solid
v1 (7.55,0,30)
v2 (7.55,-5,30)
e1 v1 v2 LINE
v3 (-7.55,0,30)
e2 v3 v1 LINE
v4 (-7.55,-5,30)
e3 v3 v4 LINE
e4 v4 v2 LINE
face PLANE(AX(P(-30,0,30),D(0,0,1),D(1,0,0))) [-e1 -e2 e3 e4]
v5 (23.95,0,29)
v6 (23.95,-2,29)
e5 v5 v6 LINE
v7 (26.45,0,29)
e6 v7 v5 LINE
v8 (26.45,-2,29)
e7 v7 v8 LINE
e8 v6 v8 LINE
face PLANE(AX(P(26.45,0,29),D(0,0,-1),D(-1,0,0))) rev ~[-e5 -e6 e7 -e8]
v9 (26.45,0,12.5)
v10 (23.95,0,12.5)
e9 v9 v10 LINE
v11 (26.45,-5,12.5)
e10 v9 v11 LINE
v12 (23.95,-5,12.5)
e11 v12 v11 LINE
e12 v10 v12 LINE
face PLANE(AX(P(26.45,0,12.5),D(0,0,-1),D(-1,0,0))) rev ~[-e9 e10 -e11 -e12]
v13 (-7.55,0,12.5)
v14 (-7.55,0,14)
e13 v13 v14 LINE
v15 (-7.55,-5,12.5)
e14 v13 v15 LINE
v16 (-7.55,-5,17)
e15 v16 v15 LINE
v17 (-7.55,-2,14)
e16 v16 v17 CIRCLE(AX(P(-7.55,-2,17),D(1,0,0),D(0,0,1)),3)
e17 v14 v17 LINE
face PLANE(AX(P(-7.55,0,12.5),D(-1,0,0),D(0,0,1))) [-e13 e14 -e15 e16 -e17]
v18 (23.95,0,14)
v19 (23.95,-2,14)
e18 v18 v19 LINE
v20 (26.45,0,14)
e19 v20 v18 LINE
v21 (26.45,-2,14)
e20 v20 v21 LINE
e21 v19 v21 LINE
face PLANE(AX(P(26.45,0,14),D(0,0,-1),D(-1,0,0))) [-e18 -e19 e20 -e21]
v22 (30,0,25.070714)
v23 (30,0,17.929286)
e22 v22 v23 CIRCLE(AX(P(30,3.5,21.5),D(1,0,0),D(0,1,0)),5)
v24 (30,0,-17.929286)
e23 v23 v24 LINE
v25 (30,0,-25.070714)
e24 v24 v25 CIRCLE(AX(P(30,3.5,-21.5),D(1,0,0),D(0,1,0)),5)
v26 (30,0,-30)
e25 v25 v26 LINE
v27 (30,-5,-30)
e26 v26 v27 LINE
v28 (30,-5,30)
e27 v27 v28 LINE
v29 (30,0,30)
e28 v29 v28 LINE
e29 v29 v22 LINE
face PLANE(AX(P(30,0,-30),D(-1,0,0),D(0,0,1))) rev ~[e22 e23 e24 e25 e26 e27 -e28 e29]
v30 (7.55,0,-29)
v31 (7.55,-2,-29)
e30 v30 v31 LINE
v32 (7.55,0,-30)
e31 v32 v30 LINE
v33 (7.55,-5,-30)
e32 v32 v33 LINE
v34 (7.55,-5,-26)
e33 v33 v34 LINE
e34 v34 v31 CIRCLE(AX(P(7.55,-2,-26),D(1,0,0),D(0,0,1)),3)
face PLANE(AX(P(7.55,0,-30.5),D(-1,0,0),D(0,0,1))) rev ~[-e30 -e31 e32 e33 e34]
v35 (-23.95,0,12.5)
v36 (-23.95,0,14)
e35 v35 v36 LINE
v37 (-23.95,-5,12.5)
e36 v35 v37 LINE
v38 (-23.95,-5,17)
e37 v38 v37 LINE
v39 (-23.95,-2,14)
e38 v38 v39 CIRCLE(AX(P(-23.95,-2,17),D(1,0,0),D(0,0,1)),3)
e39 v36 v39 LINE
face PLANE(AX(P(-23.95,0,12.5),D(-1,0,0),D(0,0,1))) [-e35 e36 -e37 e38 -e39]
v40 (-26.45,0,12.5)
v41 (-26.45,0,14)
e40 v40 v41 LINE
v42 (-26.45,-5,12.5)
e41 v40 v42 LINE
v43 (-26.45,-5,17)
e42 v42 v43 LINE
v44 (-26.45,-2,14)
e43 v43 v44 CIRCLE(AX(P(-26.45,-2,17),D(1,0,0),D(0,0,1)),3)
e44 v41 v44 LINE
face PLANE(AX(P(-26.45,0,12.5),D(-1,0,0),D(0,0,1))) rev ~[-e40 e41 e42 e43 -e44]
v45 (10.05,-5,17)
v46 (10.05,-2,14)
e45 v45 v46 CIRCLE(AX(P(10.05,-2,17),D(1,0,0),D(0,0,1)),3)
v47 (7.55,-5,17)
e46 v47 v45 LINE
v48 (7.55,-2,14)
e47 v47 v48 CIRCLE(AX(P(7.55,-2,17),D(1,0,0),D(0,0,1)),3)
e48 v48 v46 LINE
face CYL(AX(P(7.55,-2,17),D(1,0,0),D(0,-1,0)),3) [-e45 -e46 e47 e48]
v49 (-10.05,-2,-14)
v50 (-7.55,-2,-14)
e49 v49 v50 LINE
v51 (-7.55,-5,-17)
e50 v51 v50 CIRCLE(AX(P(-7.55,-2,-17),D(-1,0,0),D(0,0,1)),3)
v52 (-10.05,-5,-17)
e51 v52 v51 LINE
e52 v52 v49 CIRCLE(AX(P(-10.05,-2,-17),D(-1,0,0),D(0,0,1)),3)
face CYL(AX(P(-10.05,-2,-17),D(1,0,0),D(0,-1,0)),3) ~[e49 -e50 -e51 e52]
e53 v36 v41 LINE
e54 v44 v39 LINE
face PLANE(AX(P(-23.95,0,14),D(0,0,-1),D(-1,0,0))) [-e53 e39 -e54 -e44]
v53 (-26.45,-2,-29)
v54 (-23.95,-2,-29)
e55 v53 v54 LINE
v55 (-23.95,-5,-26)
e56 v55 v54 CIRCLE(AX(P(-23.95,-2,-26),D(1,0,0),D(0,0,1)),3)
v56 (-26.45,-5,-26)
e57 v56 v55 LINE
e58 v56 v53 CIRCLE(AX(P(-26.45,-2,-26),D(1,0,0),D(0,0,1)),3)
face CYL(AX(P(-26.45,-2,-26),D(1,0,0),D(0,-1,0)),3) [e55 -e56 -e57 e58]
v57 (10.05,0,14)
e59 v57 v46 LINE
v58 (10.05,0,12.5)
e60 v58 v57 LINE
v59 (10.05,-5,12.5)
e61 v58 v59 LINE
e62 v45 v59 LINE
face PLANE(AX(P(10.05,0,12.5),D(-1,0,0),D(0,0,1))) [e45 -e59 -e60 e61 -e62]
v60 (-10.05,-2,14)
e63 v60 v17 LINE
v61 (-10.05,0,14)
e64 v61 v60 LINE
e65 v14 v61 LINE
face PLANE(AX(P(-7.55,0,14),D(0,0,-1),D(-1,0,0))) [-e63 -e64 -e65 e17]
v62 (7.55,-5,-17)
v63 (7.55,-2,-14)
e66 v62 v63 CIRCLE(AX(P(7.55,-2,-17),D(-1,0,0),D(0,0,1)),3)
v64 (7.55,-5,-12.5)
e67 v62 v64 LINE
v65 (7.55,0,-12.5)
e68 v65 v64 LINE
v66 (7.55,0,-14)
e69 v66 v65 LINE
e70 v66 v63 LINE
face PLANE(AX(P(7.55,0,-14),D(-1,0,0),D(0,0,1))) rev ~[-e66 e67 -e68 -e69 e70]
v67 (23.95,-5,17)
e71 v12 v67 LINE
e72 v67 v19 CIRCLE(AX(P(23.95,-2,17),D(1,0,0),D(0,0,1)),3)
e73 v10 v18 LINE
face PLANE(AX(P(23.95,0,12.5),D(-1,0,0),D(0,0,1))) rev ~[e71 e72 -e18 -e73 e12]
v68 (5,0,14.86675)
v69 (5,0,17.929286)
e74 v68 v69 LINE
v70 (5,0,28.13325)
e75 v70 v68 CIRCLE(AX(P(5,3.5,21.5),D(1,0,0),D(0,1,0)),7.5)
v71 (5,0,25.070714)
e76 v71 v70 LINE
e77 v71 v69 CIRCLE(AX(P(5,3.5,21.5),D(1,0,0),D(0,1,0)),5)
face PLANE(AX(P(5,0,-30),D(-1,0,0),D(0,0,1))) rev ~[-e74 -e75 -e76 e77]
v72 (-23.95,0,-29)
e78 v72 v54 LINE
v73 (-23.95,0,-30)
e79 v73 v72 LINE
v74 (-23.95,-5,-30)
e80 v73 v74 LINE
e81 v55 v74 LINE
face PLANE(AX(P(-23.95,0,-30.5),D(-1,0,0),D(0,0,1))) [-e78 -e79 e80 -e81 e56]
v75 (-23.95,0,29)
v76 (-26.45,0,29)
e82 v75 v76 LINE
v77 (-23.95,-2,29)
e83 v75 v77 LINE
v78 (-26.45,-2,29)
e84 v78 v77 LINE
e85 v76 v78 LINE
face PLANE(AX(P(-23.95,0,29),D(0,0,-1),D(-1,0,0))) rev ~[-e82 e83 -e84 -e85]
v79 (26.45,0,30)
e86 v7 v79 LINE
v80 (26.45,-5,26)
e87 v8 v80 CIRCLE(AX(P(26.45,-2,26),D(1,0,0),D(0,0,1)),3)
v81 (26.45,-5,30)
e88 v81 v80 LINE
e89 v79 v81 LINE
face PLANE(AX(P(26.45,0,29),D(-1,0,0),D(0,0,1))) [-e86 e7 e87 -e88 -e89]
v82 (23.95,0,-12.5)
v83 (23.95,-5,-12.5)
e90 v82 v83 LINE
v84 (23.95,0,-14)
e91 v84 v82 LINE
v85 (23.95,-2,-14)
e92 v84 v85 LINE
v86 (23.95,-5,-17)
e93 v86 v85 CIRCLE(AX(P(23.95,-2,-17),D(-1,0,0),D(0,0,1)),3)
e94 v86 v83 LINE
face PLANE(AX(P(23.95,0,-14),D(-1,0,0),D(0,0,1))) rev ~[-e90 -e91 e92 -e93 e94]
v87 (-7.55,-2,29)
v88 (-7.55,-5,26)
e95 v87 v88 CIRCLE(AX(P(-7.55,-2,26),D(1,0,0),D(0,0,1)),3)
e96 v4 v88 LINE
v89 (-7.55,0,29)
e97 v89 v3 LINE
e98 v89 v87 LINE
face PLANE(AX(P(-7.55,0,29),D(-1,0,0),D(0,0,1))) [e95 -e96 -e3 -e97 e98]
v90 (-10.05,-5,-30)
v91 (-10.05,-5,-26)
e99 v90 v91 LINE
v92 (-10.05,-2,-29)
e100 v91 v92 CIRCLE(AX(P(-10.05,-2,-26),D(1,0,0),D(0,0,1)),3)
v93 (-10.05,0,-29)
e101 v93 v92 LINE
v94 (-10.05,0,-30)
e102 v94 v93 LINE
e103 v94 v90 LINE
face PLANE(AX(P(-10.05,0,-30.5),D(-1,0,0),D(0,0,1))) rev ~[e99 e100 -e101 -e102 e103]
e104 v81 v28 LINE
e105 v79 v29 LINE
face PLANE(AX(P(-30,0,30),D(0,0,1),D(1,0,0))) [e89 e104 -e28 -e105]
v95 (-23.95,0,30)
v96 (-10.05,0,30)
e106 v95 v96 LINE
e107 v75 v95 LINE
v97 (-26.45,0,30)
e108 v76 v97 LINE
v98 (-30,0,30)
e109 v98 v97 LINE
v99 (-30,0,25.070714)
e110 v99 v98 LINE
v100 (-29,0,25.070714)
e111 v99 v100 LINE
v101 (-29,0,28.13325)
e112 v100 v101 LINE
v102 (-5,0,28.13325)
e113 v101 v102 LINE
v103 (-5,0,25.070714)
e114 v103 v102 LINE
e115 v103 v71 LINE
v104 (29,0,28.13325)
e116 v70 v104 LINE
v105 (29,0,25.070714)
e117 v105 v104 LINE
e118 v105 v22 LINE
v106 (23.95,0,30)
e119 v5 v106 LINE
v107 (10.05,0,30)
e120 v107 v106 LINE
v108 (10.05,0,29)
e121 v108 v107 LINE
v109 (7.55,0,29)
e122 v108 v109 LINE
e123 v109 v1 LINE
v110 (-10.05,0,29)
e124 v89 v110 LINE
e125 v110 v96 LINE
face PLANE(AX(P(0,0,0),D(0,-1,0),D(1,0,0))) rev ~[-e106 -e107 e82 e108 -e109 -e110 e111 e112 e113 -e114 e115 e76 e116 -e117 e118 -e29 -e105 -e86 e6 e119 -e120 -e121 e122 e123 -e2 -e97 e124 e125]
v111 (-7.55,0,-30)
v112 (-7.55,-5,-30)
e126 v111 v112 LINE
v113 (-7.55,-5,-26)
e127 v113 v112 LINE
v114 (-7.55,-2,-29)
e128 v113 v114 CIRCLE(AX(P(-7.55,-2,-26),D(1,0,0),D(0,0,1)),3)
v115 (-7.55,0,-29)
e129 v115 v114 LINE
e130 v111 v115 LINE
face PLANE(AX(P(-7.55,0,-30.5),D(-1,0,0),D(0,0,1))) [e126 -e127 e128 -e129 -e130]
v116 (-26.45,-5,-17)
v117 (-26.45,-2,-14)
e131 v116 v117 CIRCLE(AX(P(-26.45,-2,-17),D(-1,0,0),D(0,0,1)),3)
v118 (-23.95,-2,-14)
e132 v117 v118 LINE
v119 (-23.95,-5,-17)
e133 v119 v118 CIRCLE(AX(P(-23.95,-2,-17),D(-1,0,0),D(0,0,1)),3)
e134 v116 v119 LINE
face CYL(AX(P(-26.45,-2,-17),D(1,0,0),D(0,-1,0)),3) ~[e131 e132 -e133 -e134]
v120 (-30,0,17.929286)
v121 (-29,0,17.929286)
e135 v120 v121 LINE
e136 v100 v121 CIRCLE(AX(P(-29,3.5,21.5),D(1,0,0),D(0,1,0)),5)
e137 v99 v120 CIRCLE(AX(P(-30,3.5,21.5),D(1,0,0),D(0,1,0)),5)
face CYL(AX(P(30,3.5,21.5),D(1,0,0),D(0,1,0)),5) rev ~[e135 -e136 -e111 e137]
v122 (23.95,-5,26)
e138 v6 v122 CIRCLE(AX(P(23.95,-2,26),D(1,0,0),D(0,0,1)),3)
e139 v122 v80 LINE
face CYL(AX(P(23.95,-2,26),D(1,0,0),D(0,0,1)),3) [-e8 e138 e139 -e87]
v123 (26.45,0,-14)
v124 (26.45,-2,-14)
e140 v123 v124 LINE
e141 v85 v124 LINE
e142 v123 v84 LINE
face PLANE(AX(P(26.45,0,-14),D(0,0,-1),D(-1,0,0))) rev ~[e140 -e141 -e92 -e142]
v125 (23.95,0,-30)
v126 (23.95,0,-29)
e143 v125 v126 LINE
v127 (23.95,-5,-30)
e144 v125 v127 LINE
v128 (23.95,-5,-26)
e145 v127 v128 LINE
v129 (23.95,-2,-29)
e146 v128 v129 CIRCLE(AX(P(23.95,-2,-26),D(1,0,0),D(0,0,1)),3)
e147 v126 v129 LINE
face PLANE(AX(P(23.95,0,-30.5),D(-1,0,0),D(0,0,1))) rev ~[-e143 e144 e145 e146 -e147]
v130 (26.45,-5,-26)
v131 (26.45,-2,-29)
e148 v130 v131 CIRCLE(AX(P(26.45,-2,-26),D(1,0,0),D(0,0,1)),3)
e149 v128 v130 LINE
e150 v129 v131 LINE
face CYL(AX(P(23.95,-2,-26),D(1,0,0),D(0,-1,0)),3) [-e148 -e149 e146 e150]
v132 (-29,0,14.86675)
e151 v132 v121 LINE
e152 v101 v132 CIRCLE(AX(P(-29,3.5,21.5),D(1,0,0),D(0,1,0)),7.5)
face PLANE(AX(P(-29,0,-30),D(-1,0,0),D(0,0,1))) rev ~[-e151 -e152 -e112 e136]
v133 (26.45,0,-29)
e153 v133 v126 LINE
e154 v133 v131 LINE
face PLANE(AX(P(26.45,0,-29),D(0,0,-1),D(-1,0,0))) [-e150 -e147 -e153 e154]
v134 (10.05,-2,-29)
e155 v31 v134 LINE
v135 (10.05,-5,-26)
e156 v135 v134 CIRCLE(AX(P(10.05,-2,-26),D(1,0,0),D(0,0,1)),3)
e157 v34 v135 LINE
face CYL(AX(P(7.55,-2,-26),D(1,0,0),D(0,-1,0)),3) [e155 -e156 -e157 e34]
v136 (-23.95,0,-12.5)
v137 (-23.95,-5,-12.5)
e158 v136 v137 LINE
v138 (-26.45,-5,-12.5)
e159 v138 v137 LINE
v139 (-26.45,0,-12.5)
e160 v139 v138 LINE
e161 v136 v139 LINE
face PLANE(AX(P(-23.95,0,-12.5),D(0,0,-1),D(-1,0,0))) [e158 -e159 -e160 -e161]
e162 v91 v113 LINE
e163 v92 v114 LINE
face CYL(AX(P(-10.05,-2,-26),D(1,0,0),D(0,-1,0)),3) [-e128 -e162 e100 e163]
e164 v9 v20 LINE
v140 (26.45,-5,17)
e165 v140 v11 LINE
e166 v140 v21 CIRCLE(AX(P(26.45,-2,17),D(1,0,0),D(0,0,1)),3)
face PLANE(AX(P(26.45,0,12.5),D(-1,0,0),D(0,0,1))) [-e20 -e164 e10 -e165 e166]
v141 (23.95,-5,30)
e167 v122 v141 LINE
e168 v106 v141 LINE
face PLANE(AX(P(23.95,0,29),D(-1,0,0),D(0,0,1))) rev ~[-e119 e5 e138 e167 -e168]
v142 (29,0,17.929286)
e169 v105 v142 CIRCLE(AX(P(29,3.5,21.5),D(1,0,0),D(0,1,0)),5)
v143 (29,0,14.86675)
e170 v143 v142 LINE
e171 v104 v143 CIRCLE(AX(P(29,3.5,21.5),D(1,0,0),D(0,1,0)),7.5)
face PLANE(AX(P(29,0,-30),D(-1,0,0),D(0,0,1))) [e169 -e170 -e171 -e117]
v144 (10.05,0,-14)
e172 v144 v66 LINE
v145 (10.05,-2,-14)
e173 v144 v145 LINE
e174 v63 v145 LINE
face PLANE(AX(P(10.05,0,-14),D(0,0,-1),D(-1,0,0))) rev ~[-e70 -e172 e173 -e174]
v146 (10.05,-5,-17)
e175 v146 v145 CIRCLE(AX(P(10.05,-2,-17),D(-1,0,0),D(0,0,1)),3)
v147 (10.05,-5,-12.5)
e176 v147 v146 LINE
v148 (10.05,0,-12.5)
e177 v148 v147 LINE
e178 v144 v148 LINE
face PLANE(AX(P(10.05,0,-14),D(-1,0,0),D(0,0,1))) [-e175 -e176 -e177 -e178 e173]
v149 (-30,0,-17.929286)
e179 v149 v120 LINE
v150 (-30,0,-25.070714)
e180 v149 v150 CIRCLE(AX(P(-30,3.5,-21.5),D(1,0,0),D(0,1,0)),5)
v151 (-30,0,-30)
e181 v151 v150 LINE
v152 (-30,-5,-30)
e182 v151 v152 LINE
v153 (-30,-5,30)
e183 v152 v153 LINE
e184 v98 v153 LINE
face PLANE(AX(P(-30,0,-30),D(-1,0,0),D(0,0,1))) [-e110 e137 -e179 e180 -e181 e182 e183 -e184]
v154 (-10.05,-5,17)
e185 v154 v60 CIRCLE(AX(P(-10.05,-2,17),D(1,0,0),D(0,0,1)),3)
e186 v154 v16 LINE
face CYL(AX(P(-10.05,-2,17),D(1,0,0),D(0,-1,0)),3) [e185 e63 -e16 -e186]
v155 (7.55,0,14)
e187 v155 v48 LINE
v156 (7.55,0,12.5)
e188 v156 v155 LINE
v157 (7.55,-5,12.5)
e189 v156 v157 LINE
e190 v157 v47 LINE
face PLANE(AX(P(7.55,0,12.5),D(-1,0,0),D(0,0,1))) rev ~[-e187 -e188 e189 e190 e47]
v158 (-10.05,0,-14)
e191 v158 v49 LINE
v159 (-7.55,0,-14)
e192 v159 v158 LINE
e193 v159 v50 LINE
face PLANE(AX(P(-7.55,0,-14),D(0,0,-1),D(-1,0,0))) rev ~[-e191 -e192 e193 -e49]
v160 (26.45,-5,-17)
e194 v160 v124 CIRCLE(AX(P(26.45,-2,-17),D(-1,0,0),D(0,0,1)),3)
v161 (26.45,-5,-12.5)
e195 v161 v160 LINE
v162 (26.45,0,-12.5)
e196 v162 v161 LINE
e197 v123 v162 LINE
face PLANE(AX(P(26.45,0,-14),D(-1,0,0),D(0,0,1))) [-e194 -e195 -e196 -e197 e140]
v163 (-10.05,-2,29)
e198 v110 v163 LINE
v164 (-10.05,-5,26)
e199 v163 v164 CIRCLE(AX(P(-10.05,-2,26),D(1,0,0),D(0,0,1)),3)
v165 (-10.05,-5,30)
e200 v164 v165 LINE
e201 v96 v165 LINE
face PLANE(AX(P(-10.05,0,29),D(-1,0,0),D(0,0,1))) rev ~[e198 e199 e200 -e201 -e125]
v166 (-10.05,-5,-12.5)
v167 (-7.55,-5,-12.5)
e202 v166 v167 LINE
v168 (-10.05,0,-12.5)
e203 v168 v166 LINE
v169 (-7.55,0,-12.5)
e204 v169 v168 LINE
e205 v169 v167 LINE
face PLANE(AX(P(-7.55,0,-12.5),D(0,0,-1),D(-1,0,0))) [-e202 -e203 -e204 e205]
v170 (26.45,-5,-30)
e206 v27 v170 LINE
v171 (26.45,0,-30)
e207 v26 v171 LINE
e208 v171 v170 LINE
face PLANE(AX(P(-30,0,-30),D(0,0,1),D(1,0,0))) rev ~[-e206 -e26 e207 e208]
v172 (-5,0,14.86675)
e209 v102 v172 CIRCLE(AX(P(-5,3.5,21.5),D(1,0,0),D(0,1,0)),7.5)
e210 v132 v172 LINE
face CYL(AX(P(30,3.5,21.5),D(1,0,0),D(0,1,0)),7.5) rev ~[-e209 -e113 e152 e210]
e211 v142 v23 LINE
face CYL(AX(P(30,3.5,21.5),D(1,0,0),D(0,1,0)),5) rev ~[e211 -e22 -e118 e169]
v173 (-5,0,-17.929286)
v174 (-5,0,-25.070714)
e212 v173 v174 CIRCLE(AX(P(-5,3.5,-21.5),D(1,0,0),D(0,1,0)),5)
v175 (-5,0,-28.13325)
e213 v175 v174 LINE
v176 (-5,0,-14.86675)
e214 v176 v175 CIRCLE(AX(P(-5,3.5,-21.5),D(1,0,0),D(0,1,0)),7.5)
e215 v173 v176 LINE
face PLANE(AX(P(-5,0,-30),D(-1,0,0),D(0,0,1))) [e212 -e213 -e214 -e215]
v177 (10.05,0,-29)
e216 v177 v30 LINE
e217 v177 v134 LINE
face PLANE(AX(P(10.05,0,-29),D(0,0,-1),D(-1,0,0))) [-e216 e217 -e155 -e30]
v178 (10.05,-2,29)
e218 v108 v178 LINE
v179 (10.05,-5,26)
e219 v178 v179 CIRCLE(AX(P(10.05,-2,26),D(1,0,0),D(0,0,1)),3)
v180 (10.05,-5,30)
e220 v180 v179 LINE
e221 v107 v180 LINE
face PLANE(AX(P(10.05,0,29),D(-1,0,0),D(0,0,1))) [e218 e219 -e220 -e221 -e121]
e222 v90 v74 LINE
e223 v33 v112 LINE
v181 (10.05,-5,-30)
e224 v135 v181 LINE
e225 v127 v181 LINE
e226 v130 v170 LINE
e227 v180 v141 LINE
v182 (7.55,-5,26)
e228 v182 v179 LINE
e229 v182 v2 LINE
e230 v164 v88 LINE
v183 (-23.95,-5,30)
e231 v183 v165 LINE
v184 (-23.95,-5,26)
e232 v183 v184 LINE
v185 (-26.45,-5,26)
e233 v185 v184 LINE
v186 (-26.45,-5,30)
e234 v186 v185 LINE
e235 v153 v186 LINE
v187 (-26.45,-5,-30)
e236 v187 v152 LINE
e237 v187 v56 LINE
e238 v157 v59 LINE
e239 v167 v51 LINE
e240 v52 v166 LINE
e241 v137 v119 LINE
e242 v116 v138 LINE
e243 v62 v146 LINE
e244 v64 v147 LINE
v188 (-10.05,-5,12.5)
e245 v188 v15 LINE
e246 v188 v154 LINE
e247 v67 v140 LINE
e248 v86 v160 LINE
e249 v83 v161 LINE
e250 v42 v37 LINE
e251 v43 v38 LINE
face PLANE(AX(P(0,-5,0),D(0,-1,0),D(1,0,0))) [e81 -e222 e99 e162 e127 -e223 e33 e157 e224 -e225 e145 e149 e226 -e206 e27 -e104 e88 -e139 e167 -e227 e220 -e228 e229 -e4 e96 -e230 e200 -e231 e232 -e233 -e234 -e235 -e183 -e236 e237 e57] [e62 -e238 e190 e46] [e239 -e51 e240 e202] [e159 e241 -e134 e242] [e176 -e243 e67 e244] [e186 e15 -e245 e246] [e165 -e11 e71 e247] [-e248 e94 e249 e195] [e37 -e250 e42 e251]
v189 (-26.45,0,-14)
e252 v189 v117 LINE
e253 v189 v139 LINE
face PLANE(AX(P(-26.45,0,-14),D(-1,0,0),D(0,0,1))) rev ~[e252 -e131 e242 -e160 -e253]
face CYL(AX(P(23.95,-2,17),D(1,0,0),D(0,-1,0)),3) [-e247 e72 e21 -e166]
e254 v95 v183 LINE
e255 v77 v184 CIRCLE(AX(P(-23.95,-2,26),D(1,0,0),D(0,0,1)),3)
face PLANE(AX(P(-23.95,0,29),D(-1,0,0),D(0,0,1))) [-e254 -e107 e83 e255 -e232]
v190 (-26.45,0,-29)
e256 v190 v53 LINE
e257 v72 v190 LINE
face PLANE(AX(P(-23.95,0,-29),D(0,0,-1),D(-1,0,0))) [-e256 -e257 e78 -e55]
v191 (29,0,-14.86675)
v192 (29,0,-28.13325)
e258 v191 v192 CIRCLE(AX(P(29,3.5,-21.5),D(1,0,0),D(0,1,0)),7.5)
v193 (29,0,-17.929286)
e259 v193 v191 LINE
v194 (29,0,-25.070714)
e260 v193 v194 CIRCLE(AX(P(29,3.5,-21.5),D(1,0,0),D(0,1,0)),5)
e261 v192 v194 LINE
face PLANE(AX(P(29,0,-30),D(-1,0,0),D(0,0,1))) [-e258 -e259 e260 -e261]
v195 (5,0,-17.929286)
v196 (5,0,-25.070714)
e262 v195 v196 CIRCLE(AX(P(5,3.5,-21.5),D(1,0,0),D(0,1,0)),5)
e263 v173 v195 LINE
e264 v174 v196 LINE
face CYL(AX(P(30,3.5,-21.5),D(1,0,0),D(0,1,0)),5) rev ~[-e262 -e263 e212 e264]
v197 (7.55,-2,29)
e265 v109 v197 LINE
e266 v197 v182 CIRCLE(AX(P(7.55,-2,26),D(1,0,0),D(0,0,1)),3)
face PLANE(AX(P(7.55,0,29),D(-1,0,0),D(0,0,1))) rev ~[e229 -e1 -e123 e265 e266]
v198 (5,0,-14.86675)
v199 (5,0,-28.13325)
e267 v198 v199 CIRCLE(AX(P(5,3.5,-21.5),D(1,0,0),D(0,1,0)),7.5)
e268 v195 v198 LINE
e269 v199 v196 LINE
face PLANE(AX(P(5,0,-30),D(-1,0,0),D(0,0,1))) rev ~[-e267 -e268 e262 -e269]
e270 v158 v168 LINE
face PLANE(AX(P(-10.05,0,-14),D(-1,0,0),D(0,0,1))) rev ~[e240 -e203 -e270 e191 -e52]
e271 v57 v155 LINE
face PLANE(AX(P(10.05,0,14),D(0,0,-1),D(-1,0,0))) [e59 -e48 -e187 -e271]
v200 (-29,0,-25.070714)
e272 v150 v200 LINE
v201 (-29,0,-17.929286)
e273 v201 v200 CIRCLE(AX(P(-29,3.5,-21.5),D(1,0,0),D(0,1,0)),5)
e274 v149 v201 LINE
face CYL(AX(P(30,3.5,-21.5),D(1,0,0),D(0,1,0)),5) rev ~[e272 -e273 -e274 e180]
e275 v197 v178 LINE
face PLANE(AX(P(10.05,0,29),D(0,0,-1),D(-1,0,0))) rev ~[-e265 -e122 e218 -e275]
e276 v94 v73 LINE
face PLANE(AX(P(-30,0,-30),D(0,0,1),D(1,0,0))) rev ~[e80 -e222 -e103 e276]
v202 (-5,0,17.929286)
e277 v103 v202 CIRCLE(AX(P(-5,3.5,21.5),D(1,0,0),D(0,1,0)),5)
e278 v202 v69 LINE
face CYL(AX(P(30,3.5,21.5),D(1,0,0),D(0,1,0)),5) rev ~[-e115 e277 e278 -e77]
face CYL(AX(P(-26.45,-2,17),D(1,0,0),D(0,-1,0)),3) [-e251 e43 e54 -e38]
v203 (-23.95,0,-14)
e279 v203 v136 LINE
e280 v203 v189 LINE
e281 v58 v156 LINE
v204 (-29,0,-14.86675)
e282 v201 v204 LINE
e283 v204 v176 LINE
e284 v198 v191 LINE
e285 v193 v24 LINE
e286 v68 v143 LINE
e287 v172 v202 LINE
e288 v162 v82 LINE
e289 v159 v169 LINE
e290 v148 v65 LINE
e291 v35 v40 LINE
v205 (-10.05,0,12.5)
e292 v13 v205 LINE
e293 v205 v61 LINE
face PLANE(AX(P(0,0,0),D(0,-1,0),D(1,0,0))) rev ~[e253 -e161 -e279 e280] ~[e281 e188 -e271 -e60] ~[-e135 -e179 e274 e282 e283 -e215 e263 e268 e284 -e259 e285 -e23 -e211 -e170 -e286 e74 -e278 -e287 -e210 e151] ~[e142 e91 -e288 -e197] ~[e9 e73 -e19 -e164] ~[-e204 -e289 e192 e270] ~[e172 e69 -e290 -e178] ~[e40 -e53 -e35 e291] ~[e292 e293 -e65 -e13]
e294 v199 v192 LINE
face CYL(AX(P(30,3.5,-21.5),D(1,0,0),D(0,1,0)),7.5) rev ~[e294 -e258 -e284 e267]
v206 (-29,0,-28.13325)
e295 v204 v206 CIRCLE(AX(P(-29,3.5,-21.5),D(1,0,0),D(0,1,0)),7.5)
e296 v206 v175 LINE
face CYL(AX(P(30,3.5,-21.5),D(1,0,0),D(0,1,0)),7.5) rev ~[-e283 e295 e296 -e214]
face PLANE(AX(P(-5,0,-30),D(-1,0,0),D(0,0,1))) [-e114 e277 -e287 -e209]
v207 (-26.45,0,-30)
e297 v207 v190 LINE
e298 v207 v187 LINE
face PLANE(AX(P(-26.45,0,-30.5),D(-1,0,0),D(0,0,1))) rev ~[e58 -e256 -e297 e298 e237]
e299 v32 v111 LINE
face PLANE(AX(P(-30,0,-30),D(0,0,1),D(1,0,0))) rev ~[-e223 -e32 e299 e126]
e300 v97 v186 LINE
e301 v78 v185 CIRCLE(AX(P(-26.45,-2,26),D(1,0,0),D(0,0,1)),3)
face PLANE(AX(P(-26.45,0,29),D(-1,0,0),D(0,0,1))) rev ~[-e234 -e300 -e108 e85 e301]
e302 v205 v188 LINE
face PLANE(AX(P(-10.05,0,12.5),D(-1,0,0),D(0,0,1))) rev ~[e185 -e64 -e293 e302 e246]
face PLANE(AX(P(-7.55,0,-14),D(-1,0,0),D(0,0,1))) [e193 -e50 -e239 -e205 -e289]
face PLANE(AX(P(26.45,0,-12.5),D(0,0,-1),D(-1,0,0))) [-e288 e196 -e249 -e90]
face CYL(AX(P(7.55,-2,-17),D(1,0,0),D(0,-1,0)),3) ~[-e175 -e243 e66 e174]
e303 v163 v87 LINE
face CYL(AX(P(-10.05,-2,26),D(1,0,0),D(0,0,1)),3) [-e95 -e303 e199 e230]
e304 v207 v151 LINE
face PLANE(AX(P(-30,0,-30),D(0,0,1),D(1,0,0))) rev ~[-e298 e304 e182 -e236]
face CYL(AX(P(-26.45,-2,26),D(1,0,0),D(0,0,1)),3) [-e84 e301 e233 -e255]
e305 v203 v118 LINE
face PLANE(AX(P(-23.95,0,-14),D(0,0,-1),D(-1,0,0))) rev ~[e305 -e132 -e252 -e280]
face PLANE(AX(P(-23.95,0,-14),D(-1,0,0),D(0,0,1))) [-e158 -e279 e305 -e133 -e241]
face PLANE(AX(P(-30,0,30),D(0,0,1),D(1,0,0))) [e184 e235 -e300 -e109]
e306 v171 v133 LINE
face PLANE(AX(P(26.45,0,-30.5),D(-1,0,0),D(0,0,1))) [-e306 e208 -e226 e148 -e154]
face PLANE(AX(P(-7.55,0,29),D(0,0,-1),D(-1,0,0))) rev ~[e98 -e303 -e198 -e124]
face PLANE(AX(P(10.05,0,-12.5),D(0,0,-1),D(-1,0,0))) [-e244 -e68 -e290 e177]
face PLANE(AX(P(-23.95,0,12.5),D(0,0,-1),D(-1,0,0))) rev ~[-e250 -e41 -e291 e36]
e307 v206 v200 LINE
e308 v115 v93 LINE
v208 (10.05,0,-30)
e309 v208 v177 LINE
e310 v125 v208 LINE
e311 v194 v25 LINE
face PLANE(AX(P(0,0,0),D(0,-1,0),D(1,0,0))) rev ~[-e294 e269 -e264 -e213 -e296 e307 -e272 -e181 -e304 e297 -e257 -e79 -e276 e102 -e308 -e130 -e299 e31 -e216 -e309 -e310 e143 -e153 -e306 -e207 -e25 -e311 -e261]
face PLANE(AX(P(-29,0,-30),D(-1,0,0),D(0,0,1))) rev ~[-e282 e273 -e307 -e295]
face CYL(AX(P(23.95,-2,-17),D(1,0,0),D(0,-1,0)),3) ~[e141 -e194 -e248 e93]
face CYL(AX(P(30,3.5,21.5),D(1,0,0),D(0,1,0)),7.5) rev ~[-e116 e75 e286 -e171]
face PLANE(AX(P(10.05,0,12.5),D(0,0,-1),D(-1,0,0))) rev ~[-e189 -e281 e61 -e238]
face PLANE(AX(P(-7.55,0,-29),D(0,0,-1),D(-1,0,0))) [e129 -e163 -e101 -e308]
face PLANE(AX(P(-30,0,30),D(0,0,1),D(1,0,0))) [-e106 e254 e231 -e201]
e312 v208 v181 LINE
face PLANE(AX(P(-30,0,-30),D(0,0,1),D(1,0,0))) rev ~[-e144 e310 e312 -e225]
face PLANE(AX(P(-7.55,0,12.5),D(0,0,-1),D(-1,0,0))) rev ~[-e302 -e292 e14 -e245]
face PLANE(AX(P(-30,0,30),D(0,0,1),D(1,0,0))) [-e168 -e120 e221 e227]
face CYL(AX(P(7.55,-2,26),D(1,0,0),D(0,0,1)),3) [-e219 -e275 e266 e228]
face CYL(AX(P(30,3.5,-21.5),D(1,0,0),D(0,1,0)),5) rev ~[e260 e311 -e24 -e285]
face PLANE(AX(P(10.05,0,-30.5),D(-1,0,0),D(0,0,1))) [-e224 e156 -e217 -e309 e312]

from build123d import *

# Parameters (mm, degrees)
F0_W     = 60
F0_H     = 60
F1_DEPTH = 5
F2_R     = 7.5
F3_DEPTH = 60.001
F4_W     = 1
F4_H     = 60
F4_W_2   = 10
F5_DEPTH = 5
F6_R     = 5
F7_DEPTH = 60.001
F8_W     = 2.5
F8_H     = 1.5
F9_DEPTH = 5.001
F10_R    = 3


with BuildPart() as f1:
    # F0 (on Front) → F1 (new body)
    with BuildSketch(Plane.XZ):
        Rectangle(F0_W, F0_H)
    extrude(amount=F1_DEPTH)

    # F2 (on face) → F3 (cut, through all)
    with BuildSketch(Plane.YZ.offset(30)):
        with Locations((3.5, 21.5)):
            Circle(F2_R)
        with Locations((3.5, -21.5)):
            Circle(F2_R)
    extrude(amount=-F3_DEPTH, mode=Mode.SUBTRACT)

    # F4 (on face) → F5 (join)
    with BuildSketch(Plane(origin=(0, 0, 0), x_dir=(-1, 0, 0), z_dir=(0, 1, 0))):
        with Locations((-29.5, 0)):
            Rectangle(F4_W, F4_H)
        Rectangle(F4_W_2, F4_H)
        with Locations((29.5, 0)):
            Rectangle(F4_W, F4_H)
    extrude(amount=-F5_DEPTH)

    # F6 (on face) → F7 (cut, through all)
    with BuildSketch(Plane.YZ.offset(30)):
        with Locations((3.5, 21.5)):
            Circle(F6_R)
        with Locations((3.5, -21.5)):
            Circle(F6_R)
    extrude(amount=-F7_DEPTH, mode=Mode.SUBTRACT)

    # F8 (on face) → F9 (cut, through all)
    with BuildSketch(Plane(origin=(0, 0, 0), x_dir=(-1, 0, 0), z_dir=(0, 1, 0))):
        with Locations((-25.2, 13.25)):
            Rectangle(F8_W, F8_H)
        with Locations((-8.8, 13.25)):
            Rectangle(F8_W, F8_H)
        with Locations((-8.8, 29.75)):
            Rectangle(F8_W, F8_H)
        with Locations((-25.2, 29.75)):
            Rectangle(F8_W, F8_H)
        with Locations((25.2, 29.75)):
            Rectangle(F8_W, F8_H)
        with Locations((8.8, 13.25)):
            Rectangle(F8_W, F8_H)
        with Locations((8.8, 29.75)):
            Rectangle(F8_W, F8_H)
        with Locations((25.2, 13.25)):
            Rectangle(F8_W, F8_H)
        with Locations((-8.8, -13.25)):
            Rectangle(F8_W, F8_H)
        with Locations((8.8, -29.75)):
            Rectangle(F8_W, F8_H)
        with Locations((25.2, -13.25)):
            Rectangle(F8_W, F8_H)
        with Locations((25.2, -29.75)):
            Rectangle(F8_W, F8_H)
        with Locations((8.8, -13.25)):
            Rectangle(F8_W, F8_H)
        with Locations((-25.2, -13.25)):
            Rectangle(F8_W, F8_H)
        with Locations((-25.2, -29.75)):
            Rectangle(F8_W, F8_H)
        with Locations((-8.8, -29.75)):
            Rectangle(F8_W, F8_H)
    extrude(amount=-F9_DEPTH, mode=Mode.SUBTRACT)

    # F10
    f10_edges = [f1.edges().sort_by_distance(p)[0] for p in [
        (25.2, -5, -29),
        (25.2, -5, -14),
        (8.8, -5, -14),
        (8.8, -5, -29),
        (-8.8, -5, -29),
        (-8.8, -5, -14),
        (-25.2, -5, -14),
        (-25.2, -5, -29),
        (-25.2, -5, 14),
        (-8.8, -5, 14),
        (-8.8, -5, 29),
        (-25.2, -5, 29),
        (8.8, -5, 14),
        (8.8, -5, 29),
        (25.2, -5, 29),
        (25.2, -5, 14),
    ]]
    fillet(f10_edges, radius=F10_R)


solid = f1.part
